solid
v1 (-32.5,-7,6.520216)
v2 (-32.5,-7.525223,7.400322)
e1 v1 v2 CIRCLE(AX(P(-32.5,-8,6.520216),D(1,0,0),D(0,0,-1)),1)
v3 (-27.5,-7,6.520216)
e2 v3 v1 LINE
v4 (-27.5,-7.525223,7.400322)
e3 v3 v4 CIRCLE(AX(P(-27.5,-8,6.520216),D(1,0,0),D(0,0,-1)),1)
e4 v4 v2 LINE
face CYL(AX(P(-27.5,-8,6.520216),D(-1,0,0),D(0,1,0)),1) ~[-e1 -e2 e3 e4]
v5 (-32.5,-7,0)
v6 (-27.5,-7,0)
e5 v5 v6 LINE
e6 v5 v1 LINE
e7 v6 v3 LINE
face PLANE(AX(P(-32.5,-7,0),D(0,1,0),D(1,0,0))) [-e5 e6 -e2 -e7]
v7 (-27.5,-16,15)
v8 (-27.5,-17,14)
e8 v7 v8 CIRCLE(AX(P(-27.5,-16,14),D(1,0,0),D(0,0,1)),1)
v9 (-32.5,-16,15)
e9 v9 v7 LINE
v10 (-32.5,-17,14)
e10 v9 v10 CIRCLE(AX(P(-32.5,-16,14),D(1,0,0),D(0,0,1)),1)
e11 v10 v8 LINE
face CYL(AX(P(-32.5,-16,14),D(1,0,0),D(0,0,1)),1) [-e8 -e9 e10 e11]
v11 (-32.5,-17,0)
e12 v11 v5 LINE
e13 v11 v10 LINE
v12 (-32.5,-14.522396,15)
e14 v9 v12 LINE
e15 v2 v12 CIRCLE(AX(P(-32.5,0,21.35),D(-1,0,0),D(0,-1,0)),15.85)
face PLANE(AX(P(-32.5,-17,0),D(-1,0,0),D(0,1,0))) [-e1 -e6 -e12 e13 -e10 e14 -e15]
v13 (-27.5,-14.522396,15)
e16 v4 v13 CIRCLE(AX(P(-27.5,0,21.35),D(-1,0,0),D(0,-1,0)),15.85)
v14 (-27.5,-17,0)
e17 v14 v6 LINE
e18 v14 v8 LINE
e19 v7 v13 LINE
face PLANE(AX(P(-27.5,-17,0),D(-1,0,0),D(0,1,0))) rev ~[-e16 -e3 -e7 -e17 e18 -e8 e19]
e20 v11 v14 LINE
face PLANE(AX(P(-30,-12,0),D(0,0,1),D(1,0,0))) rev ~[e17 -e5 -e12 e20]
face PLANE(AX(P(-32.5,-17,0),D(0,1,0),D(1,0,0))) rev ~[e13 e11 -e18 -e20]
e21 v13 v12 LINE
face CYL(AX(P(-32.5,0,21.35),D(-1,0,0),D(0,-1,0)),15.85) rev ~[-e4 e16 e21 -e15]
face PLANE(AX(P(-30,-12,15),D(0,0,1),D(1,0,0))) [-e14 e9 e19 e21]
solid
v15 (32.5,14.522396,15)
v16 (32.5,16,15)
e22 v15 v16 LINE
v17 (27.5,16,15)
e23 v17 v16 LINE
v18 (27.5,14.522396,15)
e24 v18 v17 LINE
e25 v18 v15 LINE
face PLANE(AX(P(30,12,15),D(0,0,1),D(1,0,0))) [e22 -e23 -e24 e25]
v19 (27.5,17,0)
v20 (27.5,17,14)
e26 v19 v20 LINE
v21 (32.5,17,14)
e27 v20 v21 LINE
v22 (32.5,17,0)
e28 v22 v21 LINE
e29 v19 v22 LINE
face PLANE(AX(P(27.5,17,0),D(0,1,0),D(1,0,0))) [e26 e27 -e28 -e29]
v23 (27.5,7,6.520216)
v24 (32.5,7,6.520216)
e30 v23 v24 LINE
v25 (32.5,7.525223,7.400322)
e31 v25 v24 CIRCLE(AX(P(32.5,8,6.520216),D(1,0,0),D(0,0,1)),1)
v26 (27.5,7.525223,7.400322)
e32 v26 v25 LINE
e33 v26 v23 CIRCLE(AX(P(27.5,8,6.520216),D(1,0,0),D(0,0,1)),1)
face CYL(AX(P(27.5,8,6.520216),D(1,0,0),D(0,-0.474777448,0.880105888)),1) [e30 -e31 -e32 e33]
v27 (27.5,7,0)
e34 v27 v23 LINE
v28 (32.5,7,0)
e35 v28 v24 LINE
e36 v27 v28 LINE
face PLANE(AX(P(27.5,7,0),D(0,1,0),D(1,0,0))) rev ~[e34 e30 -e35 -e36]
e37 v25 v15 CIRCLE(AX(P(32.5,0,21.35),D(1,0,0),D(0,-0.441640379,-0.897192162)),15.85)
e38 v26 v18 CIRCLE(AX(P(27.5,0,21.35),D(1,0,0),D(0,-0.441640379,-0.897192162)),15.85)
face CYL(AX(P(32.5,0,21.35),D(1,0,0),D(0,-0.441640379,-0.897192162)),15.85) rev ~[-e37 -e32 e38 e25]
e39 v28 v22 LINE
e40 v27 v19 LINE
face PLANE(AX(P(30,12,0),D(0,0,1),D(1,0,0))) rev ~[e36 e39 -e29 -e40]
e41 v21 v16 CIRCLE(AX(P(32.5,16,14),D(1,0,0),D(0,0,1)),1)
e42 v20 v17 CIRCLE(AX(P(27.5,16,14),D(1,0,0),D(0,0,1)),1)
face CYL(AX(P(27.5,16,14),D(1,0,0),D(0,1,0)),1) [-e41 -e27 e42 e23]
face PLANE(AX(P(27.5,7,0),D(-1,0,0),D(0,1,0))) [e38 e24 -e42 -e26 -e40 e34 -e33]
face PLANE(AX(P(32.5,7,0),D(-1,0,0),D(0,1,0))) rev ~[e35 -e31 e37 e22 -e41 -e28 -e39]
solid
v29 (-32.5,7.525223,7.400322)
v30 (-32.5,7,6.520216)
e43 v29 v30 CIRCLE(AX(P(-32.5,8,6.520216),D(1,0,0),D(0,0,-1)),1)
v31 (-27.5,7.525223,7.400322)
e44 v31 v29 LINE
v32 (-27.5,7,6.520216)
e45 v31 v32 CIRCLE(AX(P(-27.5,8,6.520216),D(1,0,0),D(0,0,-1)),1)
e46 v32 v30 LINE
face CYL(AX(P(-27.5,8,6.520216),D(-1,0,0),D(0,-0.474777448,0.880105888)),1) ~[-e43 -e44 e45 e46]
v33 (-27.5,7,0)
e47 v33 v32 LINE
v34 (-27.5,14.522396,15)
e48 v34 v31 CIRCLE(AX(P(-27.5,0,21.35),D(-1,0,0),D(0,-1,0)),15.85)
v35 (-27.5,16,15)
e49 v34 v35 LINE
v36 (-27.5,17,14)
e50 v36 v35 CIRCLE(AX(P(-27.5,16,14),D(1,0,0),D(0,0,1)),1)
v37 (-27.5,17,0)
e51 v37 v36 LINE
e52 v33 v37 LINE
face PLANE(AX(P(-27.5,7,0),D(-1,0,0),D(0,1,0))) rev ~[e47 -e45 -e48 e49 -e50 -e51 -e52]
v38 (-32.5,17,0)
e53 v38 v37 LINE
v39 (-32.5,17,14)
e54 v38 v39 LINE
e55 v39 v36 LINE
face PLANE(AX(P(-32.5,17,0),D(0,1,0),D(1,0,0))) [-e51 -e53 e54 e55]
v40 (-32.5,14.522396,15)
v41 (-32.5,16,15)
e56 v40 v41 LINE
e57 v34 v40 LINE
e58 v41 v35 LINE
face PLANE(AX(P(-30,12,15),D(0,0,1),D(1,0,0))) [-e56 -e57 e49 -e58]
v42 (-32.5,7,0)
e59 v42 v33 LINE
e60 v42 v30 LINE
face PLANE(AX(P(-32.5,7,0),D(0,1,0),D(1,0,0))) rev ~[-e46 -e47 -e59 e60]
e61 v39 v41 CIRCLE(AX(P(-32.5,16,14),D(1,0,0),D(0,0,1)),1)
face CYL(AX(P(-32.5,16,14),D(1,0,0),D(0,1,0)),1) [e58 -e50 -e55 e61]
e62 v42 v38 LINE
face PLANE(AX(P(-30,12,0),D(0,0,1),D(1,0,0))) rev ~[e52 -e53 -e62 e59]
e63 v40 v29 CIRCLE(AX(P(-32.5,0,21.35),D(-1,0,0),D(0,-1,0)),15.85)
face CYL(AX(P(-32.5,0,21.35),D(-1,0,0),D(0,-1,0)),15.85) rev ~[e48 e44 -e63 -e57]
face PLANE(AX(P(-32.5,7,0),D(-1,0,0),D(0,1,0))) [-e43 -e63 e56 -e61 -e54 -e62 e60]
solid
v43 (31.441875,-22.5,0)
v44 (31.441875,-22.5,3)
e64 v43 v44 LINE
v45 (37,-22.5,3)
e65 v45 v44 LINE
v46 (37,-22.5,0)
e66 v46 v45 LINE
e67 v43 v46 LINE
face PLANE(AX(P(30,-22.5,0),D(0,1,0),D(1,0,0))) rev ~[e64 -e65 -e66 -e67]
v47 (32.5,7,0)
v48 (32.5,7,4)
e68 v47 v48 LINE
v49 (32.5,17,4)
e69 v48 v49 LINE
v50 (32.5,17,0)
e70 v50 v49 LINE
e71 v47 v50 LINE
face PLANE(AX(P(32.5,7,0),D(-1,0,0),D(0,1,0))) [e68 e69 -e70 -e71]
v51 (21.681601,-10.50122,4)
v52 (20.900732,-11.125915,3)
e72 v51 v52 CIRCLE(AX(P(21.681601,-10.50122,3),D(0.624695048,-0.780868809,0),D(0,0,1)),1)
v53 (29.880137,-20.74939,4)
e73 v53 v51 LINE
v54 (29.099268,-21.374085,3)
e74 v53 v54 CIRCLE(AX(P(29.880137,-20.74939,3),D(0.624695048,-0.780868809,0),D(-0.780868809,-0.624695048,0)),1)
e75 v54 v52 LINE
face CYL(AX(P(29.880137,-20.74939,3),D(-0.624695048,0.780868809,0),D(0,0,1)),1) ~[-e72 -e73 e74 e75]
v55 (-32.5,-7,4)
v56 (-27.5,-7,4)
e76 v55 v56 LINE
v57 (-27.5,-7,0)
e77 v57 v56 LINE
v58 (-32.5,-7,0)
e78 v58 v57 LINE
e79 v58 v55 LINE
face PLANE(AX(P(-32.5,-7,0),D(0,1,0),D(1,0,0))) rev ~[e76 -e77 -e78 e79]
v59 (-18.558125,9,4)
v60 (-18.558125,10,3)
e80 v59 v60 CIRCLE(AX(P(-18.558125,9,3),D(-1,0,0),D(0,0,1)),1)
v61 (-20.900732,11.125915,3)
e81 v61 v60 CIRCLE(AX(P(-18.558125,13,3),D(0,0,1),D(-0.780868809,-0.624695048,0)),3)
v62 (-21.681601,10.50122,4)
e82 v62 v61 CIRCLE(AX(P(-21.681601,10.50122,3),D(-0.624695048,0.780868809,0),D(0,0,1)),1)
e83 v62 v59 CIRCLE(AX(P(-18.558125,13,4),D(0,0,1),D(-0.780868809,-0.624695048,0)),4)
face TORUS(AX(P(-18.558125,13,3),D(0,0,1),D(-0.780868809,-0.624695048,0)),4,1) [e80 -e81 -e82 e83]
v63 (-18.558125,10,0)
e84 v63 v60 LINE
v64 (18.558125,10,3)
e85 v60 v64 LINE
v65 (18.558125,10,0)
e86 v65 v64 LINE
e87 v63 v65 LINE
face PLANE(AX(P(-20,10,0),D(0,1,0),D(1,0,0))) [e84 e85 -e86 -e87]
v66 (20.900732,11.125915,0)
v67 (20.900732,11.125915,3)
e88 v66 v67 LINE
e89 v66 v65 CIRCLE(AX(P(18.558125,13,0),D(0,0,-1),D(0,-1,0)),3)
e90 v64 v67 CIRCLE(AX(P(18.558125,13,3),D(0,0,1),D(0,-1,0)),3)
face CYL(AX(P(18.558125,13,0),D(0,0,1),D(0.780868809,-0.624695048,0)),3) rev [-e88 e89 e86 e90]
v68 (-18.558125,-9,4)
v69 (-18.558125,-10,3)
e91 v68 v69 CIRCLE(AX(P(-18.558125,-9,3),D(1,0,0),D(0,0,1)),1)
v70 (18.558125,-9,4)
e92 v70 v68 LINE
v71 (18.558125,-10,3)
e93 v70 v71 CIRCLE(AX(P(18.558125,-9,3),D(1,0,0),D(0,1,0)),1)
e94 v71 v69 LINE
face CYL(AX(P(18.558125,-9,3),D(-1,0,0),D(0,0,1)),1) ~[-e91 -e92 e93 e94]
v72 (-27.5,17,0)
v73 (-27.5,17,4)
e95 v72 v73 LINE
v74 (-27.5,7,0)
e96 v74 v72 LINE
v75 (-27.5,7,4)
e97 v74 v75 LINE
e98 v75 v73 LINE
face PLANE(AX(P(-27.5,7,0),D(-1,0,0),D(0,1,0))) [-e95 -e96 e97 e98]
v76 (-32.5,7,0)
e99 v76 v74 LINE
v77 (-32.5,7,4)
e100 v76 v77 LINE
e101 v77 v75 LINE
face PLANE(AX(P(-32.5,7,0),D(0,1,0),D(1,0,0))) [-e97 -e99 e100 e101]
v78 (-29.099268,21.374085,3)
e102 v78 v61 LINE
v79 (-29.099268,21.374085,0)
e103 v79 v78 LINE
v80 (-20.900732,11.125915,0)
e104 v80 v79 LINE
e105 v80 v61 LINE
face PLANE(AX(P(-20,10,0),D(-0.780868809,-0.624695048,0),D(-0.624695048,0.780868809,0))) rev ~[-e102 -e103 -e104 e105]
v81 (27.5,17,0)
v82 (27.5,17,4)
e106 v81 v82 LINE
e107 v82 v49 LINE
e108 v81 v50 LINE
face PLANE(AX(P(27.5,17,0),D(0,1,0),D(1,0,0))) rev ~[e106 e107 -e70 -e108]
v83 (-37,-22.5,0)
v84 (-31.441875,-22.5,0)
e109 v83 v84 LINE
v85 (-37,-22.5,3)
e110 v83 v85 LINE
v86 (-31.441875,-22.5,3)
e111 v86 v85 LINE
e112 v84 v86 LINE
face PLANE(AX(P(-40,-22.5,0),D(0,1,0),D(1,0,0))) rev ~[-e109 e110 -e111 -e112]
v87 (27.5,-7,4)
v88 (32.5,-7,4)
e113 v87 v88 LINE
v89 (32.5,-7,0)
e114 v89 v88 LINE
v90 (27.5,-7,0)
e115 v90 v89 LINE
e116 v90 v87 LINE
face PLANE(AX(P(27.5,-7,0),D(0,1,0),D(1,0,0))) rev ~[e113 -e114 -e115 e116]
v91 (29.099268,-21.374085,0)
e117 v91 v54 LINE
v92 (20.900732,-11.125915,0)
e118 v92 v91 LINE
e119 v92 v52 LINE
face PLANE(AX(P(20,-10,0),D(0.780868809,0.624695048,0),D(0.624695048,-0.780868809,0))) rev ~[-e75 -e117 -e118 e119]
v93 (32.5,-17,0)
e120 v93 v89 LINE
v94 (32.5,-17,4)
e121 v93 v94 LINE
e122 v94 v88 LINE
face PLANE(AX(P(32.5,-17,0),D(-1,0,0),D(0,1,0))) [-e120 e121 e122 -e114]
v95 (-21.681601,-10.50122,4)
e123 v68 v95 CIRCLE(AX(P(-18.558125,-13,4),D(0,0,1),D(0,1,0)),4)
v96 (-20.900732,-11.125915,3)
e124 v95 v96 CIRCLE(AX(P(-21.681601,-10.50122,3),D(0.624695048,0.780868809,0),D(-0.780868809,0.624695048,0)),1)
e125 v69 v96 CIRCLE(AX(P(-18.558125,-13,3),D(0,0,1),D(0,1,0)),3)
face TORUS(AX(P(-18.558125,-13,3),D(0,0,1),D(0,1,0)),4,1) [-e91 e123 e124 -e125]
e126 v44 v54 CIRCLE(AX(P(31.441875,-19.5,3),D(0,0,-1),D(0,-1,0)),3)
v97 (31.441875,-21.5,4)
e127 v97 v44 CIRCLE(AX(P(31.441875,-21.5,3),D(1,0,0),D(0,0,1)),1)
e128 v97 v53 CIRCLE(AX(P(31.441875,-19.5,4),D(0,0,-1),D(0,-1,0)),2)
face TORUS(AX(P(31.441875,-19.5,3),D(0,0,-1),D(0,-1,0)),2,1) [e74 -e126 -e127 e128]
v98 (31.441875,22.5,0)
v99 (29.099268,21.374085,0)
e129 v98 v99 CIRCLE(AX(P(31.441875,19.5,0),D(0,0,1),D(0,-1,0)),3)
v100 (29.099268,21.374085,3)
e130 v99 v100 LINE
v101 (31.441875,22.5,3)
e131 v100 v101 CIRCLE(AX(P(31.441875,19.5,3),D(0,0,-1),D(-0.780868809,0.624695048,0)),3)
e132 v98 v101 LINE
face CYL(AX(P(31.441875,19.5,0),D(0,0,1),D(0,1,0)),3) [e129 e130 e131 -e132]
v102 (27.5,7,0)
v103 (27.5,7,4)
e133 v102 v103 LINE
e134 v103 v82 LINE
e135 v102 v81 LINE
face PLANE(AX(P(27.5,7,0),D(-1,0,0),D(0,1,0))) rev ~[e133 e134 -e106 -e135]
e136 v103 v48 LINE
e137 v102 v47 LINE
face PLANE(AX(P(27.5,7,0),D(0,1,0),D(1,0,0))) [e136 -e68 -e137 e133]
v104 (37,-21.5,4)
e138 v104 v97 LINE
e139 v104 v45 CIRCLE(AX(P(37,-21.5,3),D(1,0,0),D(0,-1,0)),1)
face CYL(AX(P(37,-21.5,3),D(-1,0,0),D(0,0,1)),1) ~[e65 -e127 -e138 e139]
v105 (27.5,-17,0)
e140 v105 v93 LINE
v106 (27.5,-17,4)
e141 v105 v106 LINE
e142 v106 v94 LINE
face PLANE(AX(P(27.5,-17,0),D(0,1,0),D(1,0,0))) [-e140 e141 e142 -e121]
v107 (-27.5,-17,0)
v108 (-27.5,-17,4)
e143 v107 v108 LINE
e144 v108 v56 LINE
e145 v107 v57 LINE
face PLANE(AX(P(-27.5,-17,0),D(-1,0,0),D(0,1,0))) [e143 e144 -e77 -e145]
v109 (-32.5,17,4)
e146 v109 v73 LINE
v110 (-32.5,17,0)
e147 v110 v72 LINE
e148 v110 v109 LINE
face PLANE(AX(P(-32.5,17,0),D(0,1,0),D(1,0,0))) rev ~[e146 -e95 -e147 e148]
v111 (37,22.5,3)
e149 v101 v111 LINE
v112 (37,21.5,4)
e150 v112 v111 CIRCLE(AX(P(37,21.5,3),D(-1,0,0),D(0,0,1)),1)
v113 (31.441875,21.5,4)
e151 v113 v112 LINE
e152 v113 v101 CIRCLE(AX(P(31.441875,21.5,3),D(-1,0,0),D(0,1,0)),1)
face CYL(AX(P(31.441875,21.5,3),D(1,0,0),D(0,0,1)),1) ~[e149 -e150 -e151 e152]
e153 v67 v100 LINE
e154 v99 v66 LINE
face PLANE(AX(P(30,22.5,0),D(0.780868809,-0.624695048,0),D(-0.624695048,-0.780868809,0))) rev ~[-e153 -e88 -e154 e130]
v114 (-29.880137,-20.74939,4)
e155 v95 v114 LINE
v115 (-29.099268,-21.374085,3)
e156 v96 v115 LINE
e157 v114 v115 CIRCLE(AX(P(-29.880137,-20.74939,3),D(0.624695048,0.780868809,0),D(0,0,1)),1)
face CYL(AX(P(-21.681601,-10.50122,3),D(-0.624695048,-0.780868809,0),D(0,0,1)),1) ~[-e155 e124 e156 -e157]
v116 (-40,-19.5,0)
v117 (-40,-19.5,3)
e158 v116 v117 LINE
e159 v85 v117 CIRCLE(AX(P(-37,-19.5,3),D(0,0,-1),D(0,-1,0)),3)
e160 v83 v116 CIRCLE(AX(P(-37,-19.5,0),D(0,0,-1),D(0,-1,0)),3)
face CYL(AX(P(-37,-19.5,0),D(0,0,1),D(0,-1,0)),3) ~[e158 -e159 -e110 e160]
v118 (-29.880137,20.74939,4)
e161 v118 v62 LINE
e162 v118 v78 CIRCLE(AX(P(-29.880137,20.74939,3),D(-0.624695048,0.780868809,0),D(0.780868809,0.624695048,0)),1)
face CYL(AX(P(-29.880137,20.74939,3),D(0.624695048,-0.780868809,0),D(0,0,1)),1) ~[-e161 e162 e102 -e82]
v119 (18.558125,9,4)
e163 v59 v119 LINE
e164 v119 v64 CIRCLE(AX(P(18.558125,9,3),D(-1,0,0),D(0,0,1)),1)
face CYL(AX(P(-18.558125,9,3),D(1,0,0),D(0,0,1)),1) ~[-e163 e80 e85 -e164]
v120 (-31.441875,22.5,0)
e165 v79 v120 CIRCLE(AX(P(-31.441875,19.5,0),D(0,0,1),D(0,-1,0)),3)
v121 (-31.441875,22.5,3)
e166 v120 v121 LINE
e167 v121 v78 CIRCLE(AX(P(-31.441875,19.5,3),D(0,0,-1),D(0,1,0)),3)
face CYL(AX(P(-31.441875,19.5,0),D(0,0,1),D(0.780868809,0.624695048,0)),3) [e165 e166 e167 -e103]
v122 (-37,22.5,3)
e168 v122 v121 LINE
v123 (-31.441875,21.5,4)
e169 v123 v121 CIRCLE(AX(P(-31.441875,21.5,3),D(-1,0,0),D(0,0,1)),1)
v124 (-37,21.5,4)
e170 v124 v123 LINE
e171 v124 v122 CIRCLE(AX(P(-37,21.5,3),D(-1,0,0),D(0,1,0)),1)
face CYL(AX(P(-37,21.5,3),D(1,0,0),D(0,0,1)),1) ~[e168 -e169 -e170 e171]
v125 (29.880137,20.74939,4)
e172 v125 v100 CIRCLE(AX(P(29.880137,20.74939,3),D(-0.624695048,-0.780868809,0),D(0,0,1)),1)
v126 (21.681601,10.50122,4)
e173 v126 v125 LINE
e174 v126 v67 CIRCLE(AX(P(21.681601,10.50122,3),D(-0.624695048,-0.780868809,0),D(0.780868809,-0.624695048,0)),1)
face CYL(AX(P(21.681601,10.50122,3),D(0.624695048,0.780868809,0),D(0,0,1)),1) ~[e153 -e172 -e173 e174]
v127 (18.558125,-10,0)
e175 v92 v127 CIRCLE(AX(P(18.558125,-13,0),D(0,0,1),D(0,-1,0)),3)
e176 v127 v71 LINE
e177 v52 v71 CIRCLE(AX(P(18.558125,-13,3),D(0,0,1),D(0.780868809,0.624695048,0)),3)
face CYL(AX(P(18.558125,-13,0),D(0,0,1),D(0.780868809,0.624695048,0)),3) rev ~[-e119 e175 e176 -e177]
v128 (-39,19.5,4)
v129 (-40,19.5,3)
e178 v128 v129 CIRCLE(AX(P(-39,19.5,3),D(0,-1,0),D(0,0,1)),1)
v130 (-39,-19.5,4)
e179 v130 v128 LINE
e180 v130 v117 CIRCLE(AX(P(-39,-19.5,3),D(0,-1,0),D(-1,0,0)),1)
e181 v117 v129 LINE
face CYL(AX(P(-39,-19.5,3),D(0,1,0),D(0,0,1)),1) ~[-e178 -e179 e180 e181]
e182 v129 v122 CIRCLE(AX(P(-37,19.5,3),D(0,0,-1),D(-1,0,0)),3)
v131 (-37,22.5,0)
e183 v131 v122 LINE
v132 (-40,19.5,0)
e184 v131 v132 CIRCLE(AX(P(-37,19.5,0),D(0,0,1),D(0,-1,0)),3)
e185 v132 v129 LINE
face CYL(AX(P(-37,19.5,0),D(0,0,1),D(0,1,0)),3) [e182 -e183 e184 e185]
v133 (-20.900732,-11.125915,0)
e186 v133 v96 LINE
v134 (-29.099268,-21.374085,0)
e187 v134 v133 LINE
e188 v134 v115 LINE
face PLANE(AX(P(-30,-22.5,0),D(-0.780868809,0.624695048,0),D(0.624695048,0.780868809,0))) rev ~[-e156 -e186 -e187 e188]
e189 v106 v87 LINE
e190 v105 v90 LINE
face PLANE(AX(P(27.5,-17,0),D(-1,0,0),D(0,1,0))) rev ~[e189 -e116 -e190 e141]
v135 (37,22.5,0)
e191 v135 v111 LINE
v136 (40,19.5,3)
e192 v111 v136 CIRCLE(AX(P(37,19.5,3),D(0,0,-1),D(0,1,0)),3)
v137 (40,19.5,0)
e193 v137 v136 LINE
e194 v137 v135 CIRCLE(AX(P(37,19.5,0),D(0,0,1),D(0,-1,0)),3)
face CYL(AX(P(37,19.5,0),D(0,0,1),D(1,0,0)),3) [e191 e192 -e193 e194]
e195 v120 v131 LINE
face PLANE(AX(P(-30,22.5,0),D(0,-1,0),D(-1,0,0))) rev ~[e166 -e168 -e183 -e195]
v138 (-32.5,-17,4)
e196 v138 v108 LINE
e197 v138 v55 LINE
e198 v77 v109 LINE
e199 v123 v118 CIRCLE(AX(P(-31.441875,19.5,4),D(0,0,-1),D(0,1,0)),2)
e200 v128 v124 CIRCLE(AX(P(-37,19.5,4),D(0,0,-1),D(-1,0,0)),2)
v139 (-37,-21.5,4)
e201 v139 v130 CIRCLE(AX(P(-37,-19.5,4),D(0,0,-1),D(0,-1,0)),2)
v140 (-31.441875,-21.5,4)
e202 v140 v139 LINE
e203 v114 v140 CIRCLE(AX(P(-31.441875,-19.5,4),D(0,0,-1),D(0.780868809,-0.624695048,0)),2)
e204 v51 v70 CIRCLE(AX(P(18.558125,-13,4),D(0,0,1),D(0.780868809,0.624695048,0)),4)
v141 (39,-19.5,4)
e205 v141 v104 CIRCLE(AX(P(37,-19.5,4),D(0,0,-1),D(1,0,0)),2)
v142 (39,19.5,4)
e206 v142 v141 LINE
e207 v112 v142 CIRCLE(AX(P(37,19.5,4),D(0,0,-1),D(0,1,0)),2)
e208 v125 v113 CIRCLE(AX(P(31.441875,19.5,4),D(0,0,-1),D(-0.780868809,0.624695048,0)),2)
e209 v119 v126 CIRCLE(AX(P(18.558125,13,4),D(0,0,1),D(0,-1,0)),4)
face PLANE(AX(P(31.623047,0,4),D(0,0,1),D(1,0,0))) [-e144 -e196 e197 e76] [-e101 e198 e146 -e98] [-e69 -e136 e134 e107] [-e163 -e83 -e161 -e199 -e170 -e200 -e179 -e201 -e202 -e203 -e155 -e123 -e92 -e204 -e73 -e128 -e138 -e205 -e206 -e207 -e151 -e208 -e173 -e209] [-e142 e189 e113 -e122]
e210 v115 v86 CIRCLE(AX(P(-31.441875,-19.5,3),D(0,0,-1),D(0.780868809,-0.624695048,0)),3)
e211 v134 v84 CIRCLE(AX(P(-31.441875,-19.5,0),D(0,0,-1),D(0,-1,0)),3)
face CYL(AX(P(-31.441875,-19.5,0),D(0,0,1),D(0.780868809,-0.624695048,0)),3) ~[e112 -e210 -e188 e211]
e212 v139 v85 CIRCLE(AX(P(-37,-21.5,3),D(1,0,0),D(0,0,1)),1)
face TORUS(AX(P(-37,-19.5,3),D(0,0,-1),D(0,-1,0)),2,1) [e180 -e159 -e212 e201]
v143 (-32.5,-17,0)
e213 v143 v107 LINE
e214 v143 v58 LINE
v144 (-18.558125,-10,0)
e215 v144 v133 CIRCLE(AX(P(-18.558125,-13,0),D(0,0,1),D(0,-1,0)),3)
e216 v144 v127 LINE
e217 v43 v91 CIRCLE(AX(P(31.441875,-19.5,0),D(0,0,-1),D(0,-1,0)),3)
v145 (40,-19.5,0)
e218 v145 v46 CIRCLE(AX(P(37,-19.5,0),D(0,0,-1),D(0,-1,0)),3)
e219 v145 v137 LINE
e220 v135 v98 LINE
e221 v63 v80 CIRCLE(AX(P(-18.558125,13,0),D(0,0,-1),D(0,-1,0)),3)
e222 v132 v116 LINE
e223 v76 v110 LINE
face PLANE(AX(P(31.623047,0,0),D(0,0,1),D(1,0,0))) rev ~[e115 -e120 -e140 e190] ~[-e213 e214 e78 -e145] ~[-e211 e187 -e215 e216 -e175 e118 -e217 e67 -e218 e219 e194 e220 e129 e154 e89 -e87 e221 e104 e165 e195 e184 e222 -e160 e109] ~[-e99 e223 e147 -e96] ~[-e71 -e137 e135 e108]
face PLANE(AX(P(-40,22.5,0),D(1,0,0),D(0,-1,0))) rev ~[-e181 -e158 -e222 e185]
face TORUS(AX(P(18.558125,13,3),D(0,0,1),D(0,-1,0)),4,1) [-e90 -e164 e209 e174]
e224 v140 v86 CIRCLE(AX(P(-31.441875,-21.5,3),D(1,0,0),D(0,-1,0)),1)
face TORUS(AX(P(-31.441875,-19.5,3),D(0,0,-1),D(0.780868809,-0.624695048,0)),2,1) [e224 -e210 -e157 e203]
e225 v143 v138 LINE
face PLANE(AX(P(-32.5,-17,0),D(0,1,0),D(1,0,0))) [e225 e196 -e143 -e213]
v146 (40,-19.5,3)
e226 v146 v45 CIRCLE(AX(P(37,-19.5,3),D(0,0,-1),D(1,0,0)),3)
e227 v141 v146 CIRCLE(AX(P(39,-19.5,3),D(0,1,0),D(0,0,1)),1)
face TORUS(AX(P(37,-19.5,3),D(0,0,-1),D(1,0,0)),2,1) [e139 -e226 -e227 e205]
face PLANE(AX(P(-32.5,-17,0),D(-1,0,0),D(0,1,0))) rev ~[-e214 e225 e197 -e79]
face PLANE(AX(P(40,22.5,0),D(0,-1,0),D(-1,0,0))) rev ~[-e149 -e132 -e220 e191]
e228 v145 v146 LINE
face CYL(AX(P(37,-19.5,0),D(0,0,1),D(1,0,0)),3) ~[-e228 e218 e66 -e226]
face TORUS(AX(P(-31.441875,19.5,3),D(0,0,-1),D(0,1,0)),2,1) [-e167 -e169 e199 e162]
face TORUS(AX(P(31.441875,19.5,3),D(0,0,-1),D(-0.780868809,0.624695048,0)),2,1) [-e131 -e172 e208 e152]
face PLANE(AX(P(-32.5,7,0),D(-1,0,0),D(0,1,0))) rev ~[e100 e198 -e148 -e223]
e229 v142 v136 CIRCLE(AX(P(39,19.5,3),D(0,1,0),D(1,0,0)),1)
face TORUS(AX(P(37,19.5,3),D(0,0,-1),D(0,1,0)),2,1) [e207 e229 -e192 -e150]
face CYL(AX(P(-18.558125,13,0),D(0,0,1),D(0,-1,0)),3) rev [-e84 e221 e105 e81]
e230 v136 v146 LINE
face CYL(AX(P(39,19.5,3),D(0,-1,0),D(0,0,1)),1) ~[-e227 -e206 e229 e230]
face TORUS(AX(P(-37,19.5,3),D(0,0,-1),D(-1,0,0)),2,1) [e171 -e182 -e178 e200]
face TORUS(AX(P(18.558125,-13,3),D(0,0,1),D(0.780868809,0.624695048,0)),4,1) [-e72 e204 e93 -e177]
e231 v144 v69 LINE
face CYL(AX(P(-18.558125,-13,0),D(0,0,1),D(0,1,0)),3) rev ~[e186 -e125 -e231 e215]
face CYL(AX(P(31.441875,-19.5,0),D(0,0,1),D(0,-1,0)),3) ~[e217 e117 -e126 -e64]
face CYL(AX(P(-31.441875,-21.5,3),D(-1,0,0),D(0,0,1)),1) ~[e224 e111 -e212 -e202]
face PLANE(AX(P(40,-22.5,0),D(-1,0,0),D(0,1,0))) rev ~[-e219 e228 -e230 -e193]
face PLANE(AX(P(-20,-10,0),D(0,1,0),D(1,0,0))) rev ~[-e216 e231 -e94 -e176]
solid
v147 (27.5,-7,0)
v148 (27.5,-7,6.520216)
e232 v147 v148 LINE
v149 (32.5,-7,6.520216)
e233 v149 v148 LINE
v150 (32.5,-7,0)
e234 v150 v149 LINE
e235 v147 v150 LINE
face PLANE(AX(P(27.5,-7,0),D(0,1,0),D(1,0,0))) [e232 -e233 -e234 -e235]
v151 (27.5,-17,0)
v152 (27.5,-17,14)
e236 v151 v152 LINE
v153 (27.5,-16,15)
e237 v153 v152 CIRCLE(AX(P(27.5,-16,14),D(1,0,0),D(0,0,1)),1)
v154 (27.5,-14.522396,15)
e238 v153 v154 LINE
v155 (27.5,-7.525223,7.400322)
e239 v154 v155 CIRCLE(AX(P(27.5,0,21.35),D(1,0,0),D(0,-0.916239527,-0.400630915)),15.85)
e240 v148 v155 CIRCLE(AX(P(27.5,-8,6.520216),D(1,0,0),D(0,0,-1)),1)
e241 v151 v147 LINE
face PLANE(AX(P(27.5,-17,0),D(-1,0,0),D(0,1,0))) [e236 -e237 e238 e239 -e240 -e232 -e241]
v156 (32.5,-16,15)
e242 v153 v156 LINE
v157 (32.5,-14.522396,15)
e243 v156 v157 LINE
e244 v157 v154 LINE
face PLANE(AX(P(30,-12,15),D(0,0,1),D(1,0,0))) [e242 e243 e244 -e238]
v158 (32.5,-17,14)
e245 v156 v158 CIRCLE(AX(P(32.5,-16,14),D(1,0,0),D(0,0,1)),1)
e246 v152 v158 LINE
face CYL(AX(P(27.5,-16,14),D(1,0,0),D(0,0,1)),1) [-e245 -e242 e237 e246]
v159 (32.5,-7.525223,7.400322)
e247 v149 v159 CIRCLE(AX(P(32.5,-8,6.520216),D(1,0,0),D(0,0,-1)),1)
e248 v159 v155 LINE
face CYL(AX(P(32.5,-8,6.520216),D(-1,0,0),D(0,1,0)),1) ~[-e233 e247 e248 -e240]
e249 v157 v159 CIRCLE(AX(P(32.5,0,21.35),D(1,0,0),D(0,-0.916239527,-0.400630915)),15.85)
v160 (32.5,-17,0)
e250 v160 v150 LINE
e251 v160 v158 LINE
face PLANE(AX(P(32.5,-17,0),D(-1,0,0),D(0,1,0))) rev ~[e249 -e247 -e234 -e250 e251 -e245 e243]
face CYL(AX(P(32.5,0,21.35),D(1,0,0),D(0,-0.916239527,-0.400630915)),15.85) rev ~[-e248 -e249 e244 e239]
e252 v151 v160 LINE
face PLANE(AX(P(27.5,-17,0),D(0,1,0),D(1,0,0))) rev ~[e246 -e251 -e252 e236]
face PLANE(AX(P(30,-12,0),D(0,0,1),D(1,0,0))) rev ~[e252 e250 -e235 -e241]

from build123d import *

# Parameters (mm, degrees)
F0_W     = 5
F0_H     = 10
F1_DEPTH = 15
F0_W_2   = 40
F0_H_2   = 20
F2_DEPTH = 4
F3_R     = 3
F5_DEPTH = 5
F6_R     = 15.85
F7_DEPTH = 5
F8_R     = 1
F8_2_R   = 1
F8_3_R   = 1
F8_4_R   = 1
F9_R     = 1


with BuildPart() as f1:
    # F0 (on Top) → F1 (new body)
    with BuildSketch(Plane.XY):
        with Locations((-30, 12)):
            Rectangle(F0_W, F0_H)
    extrude(amount=F1_DEPTH)


with BuildPart() as f1b:
    # F0 (on Top) → F1, piece 2 (new body)
    with BuildSketch(Plane.XY):
        with Locations((-30, -12)):
            Rectangle(F0_W, F0_H)
    extrude(amount=F1_DEPTH)


with BuildPart() as f1c:
    # F0 (on Top) → F1, piece 3 (new body)
    with BuildSketch(Plane.XY):
        with Locations((30, 12)):
            Rectangle(F0_W, F0_H)
    extrude(amount=F1_DEPTH)


with BuildPart() as f1d:
    # F0 (on Top) → F1, piece 4 (new body)
    with BuildSketch(Plane.XY):
        with Locations((30, -12)):
            Rectangle(F0_W, F0_H)
    extrude(amount=F1_DEPTH)


with BuildPart() as f2:
    # F0 (on Top) → F2 (new body)
    with BuildSketch(Plane.XY):
        Polygon((40, -22.5), (40, 22.5), (30, 22.5), (20, 10), (20, -10), (30, -22.5), align=None)
        with Locations((30, -12)):
            Rectangle(F0_W, F0_H, mode=Mode.SUBTRACT)
        with Locations((30, 12)):
            Rectangle(F0_W, F0_H, mode=Mode.SUBTRACT)
        Rectangle(F0_W_2, F0_H_2)
        Polygon((-20, -10), (-20, 10), (-30, 22.5), (-40, 22.5), (-40, -22.5), (-30, -22.5), align=None)
        with Locations((-30, -12)):
            Rectangle(F0_W, F0_H, mode=Mode.SUBTRACT)
        with Locations((-30, 12)):
            Rectangle(F0_W, F0_H, mode=Mode.SUBTRACT)
    extrude(amount=F2_DEPTH)

    # F3
    f3_edges = [f2.edges().sort_by_distance(p)[0] for p in [
        (-40, 22.5, 2),
        (-40, -22.5, 2),
        (40, -22.5, 2),
        (40, 22.5, 2),
        (-30, 22.5, 2),
        (30, 22.5, 2),
        (30, -22.5, 2),
        (-30, -22.5, 2),
        (-20, -10, 2),
        (-20, 10, 2),
        (20, -10, 2),
        (20, 10, 2),
    ]]
    fillet(f3_edges, radius=F3_R)

    # F9
    f9_edges = [f2.edges().sort_by_distance(p)[0] for p in [
        (0, 10, 4),
    ]]
    fillet(f9_edges, radius=F9_R)


with BuildPart() as f5_tool:
    # F4 (on face) → F5 (new body)
    with BuildSketch(Plane.YZ.offset(32.5)):
        with BuildLine():
            ThreePointArc((-7, 7.1295042281), (8.3747388019, 7.8931708787), (15.85, 21.35))
            ThreePointArc((15.85, 21.35), (-3.2436488351, 36.8645493726), (-14.5223964964, 15))
            Line((-14.5223964964, 15), (-7, 15))
            Line((-7, 15), (-7, 7.1295042281))
        make_face()
        with BuildLine():
            Line((-7, 15), (-14.5223964964, 15))
            ThreePointArc((-14.5223964964, 15), (-11.458165807, 10.398610301), (-7, 7.1295042281))
            Line((-7, 7.1295042281), (-7, 15))
        make_face()
    extrude(amount=-F5_DEPTH)


with BuildPart() as f1c_1:
    add(f1c.part)

    # F5: cut by f5_tool
    add(f5_tool.part, mode=Mode.SUBTRACT)

    # F8#2
    f8_2_edges = [f1c_1.edges().sort_by_distance(p)[0] for p in [
        (30, 17, 15),
        (30, 7, 7.129504),
    ]]
    fillet(f8_2_edges, radius=F8_2_R)


with BuildPart() as f1d_1:
    add(f1d.part)

    # F5: cut by f5_tool
    add(f5_tool.part, mode=Mode.SUBTRACT)

    # F8#4
    f8_4_edges = [f1d_1.edges().sort_by_distance(p)[0] for p in [
        (30, -17, 15),
        (30, -7, 7.129504),
    ]]
    fillet(f8_4_edges, radius=F8_4_R)


with BuildPart() as f7_tool:
    # F6 (on face) → F7 (new body)
    with BuildSketch(Plane(origin=(-32.5, 0, 0), x_dir=(0, -1, 0), z_dir=(-1, 0, 0))):
        with Locations((0, 21.35)):
            Circle(F6_R)
    extrude(amount=-F7_DEPTH)


with BuildPart() as f1_1:
    add(f1.part)

    # F7: cut by f7_tool
    add(f7_tool.part, mode=Mode.SUBTRACT)

    # F8
    f8_edges = [f1_1.edges().sort_by_distance(p)[0] for p in [
        (-30, 17, 15),
        (-30, 7, 7.129504),
    ]]
    fillet(f8_edges, radius=F8_R)


with BuildPart() as f1b_1:
    add(f1b.part)

    # F7: cut by f7_tool
    add(f7_tool.part, mode=Mode.SUBTRACT)

    # F8#3
    f8_3_edges = [f1b_1.edges().sort_by_distance(p)[0] for p in [
        (-30, -17, 15),
        (-30, -7, 7.129504),
    ]]
    fillet(f8_3_edges, radius=F8_3_R)


solid = Compound([f2.part, f1c_1.part, f1d_1.part, f1_1.part, f1b_1.part])
